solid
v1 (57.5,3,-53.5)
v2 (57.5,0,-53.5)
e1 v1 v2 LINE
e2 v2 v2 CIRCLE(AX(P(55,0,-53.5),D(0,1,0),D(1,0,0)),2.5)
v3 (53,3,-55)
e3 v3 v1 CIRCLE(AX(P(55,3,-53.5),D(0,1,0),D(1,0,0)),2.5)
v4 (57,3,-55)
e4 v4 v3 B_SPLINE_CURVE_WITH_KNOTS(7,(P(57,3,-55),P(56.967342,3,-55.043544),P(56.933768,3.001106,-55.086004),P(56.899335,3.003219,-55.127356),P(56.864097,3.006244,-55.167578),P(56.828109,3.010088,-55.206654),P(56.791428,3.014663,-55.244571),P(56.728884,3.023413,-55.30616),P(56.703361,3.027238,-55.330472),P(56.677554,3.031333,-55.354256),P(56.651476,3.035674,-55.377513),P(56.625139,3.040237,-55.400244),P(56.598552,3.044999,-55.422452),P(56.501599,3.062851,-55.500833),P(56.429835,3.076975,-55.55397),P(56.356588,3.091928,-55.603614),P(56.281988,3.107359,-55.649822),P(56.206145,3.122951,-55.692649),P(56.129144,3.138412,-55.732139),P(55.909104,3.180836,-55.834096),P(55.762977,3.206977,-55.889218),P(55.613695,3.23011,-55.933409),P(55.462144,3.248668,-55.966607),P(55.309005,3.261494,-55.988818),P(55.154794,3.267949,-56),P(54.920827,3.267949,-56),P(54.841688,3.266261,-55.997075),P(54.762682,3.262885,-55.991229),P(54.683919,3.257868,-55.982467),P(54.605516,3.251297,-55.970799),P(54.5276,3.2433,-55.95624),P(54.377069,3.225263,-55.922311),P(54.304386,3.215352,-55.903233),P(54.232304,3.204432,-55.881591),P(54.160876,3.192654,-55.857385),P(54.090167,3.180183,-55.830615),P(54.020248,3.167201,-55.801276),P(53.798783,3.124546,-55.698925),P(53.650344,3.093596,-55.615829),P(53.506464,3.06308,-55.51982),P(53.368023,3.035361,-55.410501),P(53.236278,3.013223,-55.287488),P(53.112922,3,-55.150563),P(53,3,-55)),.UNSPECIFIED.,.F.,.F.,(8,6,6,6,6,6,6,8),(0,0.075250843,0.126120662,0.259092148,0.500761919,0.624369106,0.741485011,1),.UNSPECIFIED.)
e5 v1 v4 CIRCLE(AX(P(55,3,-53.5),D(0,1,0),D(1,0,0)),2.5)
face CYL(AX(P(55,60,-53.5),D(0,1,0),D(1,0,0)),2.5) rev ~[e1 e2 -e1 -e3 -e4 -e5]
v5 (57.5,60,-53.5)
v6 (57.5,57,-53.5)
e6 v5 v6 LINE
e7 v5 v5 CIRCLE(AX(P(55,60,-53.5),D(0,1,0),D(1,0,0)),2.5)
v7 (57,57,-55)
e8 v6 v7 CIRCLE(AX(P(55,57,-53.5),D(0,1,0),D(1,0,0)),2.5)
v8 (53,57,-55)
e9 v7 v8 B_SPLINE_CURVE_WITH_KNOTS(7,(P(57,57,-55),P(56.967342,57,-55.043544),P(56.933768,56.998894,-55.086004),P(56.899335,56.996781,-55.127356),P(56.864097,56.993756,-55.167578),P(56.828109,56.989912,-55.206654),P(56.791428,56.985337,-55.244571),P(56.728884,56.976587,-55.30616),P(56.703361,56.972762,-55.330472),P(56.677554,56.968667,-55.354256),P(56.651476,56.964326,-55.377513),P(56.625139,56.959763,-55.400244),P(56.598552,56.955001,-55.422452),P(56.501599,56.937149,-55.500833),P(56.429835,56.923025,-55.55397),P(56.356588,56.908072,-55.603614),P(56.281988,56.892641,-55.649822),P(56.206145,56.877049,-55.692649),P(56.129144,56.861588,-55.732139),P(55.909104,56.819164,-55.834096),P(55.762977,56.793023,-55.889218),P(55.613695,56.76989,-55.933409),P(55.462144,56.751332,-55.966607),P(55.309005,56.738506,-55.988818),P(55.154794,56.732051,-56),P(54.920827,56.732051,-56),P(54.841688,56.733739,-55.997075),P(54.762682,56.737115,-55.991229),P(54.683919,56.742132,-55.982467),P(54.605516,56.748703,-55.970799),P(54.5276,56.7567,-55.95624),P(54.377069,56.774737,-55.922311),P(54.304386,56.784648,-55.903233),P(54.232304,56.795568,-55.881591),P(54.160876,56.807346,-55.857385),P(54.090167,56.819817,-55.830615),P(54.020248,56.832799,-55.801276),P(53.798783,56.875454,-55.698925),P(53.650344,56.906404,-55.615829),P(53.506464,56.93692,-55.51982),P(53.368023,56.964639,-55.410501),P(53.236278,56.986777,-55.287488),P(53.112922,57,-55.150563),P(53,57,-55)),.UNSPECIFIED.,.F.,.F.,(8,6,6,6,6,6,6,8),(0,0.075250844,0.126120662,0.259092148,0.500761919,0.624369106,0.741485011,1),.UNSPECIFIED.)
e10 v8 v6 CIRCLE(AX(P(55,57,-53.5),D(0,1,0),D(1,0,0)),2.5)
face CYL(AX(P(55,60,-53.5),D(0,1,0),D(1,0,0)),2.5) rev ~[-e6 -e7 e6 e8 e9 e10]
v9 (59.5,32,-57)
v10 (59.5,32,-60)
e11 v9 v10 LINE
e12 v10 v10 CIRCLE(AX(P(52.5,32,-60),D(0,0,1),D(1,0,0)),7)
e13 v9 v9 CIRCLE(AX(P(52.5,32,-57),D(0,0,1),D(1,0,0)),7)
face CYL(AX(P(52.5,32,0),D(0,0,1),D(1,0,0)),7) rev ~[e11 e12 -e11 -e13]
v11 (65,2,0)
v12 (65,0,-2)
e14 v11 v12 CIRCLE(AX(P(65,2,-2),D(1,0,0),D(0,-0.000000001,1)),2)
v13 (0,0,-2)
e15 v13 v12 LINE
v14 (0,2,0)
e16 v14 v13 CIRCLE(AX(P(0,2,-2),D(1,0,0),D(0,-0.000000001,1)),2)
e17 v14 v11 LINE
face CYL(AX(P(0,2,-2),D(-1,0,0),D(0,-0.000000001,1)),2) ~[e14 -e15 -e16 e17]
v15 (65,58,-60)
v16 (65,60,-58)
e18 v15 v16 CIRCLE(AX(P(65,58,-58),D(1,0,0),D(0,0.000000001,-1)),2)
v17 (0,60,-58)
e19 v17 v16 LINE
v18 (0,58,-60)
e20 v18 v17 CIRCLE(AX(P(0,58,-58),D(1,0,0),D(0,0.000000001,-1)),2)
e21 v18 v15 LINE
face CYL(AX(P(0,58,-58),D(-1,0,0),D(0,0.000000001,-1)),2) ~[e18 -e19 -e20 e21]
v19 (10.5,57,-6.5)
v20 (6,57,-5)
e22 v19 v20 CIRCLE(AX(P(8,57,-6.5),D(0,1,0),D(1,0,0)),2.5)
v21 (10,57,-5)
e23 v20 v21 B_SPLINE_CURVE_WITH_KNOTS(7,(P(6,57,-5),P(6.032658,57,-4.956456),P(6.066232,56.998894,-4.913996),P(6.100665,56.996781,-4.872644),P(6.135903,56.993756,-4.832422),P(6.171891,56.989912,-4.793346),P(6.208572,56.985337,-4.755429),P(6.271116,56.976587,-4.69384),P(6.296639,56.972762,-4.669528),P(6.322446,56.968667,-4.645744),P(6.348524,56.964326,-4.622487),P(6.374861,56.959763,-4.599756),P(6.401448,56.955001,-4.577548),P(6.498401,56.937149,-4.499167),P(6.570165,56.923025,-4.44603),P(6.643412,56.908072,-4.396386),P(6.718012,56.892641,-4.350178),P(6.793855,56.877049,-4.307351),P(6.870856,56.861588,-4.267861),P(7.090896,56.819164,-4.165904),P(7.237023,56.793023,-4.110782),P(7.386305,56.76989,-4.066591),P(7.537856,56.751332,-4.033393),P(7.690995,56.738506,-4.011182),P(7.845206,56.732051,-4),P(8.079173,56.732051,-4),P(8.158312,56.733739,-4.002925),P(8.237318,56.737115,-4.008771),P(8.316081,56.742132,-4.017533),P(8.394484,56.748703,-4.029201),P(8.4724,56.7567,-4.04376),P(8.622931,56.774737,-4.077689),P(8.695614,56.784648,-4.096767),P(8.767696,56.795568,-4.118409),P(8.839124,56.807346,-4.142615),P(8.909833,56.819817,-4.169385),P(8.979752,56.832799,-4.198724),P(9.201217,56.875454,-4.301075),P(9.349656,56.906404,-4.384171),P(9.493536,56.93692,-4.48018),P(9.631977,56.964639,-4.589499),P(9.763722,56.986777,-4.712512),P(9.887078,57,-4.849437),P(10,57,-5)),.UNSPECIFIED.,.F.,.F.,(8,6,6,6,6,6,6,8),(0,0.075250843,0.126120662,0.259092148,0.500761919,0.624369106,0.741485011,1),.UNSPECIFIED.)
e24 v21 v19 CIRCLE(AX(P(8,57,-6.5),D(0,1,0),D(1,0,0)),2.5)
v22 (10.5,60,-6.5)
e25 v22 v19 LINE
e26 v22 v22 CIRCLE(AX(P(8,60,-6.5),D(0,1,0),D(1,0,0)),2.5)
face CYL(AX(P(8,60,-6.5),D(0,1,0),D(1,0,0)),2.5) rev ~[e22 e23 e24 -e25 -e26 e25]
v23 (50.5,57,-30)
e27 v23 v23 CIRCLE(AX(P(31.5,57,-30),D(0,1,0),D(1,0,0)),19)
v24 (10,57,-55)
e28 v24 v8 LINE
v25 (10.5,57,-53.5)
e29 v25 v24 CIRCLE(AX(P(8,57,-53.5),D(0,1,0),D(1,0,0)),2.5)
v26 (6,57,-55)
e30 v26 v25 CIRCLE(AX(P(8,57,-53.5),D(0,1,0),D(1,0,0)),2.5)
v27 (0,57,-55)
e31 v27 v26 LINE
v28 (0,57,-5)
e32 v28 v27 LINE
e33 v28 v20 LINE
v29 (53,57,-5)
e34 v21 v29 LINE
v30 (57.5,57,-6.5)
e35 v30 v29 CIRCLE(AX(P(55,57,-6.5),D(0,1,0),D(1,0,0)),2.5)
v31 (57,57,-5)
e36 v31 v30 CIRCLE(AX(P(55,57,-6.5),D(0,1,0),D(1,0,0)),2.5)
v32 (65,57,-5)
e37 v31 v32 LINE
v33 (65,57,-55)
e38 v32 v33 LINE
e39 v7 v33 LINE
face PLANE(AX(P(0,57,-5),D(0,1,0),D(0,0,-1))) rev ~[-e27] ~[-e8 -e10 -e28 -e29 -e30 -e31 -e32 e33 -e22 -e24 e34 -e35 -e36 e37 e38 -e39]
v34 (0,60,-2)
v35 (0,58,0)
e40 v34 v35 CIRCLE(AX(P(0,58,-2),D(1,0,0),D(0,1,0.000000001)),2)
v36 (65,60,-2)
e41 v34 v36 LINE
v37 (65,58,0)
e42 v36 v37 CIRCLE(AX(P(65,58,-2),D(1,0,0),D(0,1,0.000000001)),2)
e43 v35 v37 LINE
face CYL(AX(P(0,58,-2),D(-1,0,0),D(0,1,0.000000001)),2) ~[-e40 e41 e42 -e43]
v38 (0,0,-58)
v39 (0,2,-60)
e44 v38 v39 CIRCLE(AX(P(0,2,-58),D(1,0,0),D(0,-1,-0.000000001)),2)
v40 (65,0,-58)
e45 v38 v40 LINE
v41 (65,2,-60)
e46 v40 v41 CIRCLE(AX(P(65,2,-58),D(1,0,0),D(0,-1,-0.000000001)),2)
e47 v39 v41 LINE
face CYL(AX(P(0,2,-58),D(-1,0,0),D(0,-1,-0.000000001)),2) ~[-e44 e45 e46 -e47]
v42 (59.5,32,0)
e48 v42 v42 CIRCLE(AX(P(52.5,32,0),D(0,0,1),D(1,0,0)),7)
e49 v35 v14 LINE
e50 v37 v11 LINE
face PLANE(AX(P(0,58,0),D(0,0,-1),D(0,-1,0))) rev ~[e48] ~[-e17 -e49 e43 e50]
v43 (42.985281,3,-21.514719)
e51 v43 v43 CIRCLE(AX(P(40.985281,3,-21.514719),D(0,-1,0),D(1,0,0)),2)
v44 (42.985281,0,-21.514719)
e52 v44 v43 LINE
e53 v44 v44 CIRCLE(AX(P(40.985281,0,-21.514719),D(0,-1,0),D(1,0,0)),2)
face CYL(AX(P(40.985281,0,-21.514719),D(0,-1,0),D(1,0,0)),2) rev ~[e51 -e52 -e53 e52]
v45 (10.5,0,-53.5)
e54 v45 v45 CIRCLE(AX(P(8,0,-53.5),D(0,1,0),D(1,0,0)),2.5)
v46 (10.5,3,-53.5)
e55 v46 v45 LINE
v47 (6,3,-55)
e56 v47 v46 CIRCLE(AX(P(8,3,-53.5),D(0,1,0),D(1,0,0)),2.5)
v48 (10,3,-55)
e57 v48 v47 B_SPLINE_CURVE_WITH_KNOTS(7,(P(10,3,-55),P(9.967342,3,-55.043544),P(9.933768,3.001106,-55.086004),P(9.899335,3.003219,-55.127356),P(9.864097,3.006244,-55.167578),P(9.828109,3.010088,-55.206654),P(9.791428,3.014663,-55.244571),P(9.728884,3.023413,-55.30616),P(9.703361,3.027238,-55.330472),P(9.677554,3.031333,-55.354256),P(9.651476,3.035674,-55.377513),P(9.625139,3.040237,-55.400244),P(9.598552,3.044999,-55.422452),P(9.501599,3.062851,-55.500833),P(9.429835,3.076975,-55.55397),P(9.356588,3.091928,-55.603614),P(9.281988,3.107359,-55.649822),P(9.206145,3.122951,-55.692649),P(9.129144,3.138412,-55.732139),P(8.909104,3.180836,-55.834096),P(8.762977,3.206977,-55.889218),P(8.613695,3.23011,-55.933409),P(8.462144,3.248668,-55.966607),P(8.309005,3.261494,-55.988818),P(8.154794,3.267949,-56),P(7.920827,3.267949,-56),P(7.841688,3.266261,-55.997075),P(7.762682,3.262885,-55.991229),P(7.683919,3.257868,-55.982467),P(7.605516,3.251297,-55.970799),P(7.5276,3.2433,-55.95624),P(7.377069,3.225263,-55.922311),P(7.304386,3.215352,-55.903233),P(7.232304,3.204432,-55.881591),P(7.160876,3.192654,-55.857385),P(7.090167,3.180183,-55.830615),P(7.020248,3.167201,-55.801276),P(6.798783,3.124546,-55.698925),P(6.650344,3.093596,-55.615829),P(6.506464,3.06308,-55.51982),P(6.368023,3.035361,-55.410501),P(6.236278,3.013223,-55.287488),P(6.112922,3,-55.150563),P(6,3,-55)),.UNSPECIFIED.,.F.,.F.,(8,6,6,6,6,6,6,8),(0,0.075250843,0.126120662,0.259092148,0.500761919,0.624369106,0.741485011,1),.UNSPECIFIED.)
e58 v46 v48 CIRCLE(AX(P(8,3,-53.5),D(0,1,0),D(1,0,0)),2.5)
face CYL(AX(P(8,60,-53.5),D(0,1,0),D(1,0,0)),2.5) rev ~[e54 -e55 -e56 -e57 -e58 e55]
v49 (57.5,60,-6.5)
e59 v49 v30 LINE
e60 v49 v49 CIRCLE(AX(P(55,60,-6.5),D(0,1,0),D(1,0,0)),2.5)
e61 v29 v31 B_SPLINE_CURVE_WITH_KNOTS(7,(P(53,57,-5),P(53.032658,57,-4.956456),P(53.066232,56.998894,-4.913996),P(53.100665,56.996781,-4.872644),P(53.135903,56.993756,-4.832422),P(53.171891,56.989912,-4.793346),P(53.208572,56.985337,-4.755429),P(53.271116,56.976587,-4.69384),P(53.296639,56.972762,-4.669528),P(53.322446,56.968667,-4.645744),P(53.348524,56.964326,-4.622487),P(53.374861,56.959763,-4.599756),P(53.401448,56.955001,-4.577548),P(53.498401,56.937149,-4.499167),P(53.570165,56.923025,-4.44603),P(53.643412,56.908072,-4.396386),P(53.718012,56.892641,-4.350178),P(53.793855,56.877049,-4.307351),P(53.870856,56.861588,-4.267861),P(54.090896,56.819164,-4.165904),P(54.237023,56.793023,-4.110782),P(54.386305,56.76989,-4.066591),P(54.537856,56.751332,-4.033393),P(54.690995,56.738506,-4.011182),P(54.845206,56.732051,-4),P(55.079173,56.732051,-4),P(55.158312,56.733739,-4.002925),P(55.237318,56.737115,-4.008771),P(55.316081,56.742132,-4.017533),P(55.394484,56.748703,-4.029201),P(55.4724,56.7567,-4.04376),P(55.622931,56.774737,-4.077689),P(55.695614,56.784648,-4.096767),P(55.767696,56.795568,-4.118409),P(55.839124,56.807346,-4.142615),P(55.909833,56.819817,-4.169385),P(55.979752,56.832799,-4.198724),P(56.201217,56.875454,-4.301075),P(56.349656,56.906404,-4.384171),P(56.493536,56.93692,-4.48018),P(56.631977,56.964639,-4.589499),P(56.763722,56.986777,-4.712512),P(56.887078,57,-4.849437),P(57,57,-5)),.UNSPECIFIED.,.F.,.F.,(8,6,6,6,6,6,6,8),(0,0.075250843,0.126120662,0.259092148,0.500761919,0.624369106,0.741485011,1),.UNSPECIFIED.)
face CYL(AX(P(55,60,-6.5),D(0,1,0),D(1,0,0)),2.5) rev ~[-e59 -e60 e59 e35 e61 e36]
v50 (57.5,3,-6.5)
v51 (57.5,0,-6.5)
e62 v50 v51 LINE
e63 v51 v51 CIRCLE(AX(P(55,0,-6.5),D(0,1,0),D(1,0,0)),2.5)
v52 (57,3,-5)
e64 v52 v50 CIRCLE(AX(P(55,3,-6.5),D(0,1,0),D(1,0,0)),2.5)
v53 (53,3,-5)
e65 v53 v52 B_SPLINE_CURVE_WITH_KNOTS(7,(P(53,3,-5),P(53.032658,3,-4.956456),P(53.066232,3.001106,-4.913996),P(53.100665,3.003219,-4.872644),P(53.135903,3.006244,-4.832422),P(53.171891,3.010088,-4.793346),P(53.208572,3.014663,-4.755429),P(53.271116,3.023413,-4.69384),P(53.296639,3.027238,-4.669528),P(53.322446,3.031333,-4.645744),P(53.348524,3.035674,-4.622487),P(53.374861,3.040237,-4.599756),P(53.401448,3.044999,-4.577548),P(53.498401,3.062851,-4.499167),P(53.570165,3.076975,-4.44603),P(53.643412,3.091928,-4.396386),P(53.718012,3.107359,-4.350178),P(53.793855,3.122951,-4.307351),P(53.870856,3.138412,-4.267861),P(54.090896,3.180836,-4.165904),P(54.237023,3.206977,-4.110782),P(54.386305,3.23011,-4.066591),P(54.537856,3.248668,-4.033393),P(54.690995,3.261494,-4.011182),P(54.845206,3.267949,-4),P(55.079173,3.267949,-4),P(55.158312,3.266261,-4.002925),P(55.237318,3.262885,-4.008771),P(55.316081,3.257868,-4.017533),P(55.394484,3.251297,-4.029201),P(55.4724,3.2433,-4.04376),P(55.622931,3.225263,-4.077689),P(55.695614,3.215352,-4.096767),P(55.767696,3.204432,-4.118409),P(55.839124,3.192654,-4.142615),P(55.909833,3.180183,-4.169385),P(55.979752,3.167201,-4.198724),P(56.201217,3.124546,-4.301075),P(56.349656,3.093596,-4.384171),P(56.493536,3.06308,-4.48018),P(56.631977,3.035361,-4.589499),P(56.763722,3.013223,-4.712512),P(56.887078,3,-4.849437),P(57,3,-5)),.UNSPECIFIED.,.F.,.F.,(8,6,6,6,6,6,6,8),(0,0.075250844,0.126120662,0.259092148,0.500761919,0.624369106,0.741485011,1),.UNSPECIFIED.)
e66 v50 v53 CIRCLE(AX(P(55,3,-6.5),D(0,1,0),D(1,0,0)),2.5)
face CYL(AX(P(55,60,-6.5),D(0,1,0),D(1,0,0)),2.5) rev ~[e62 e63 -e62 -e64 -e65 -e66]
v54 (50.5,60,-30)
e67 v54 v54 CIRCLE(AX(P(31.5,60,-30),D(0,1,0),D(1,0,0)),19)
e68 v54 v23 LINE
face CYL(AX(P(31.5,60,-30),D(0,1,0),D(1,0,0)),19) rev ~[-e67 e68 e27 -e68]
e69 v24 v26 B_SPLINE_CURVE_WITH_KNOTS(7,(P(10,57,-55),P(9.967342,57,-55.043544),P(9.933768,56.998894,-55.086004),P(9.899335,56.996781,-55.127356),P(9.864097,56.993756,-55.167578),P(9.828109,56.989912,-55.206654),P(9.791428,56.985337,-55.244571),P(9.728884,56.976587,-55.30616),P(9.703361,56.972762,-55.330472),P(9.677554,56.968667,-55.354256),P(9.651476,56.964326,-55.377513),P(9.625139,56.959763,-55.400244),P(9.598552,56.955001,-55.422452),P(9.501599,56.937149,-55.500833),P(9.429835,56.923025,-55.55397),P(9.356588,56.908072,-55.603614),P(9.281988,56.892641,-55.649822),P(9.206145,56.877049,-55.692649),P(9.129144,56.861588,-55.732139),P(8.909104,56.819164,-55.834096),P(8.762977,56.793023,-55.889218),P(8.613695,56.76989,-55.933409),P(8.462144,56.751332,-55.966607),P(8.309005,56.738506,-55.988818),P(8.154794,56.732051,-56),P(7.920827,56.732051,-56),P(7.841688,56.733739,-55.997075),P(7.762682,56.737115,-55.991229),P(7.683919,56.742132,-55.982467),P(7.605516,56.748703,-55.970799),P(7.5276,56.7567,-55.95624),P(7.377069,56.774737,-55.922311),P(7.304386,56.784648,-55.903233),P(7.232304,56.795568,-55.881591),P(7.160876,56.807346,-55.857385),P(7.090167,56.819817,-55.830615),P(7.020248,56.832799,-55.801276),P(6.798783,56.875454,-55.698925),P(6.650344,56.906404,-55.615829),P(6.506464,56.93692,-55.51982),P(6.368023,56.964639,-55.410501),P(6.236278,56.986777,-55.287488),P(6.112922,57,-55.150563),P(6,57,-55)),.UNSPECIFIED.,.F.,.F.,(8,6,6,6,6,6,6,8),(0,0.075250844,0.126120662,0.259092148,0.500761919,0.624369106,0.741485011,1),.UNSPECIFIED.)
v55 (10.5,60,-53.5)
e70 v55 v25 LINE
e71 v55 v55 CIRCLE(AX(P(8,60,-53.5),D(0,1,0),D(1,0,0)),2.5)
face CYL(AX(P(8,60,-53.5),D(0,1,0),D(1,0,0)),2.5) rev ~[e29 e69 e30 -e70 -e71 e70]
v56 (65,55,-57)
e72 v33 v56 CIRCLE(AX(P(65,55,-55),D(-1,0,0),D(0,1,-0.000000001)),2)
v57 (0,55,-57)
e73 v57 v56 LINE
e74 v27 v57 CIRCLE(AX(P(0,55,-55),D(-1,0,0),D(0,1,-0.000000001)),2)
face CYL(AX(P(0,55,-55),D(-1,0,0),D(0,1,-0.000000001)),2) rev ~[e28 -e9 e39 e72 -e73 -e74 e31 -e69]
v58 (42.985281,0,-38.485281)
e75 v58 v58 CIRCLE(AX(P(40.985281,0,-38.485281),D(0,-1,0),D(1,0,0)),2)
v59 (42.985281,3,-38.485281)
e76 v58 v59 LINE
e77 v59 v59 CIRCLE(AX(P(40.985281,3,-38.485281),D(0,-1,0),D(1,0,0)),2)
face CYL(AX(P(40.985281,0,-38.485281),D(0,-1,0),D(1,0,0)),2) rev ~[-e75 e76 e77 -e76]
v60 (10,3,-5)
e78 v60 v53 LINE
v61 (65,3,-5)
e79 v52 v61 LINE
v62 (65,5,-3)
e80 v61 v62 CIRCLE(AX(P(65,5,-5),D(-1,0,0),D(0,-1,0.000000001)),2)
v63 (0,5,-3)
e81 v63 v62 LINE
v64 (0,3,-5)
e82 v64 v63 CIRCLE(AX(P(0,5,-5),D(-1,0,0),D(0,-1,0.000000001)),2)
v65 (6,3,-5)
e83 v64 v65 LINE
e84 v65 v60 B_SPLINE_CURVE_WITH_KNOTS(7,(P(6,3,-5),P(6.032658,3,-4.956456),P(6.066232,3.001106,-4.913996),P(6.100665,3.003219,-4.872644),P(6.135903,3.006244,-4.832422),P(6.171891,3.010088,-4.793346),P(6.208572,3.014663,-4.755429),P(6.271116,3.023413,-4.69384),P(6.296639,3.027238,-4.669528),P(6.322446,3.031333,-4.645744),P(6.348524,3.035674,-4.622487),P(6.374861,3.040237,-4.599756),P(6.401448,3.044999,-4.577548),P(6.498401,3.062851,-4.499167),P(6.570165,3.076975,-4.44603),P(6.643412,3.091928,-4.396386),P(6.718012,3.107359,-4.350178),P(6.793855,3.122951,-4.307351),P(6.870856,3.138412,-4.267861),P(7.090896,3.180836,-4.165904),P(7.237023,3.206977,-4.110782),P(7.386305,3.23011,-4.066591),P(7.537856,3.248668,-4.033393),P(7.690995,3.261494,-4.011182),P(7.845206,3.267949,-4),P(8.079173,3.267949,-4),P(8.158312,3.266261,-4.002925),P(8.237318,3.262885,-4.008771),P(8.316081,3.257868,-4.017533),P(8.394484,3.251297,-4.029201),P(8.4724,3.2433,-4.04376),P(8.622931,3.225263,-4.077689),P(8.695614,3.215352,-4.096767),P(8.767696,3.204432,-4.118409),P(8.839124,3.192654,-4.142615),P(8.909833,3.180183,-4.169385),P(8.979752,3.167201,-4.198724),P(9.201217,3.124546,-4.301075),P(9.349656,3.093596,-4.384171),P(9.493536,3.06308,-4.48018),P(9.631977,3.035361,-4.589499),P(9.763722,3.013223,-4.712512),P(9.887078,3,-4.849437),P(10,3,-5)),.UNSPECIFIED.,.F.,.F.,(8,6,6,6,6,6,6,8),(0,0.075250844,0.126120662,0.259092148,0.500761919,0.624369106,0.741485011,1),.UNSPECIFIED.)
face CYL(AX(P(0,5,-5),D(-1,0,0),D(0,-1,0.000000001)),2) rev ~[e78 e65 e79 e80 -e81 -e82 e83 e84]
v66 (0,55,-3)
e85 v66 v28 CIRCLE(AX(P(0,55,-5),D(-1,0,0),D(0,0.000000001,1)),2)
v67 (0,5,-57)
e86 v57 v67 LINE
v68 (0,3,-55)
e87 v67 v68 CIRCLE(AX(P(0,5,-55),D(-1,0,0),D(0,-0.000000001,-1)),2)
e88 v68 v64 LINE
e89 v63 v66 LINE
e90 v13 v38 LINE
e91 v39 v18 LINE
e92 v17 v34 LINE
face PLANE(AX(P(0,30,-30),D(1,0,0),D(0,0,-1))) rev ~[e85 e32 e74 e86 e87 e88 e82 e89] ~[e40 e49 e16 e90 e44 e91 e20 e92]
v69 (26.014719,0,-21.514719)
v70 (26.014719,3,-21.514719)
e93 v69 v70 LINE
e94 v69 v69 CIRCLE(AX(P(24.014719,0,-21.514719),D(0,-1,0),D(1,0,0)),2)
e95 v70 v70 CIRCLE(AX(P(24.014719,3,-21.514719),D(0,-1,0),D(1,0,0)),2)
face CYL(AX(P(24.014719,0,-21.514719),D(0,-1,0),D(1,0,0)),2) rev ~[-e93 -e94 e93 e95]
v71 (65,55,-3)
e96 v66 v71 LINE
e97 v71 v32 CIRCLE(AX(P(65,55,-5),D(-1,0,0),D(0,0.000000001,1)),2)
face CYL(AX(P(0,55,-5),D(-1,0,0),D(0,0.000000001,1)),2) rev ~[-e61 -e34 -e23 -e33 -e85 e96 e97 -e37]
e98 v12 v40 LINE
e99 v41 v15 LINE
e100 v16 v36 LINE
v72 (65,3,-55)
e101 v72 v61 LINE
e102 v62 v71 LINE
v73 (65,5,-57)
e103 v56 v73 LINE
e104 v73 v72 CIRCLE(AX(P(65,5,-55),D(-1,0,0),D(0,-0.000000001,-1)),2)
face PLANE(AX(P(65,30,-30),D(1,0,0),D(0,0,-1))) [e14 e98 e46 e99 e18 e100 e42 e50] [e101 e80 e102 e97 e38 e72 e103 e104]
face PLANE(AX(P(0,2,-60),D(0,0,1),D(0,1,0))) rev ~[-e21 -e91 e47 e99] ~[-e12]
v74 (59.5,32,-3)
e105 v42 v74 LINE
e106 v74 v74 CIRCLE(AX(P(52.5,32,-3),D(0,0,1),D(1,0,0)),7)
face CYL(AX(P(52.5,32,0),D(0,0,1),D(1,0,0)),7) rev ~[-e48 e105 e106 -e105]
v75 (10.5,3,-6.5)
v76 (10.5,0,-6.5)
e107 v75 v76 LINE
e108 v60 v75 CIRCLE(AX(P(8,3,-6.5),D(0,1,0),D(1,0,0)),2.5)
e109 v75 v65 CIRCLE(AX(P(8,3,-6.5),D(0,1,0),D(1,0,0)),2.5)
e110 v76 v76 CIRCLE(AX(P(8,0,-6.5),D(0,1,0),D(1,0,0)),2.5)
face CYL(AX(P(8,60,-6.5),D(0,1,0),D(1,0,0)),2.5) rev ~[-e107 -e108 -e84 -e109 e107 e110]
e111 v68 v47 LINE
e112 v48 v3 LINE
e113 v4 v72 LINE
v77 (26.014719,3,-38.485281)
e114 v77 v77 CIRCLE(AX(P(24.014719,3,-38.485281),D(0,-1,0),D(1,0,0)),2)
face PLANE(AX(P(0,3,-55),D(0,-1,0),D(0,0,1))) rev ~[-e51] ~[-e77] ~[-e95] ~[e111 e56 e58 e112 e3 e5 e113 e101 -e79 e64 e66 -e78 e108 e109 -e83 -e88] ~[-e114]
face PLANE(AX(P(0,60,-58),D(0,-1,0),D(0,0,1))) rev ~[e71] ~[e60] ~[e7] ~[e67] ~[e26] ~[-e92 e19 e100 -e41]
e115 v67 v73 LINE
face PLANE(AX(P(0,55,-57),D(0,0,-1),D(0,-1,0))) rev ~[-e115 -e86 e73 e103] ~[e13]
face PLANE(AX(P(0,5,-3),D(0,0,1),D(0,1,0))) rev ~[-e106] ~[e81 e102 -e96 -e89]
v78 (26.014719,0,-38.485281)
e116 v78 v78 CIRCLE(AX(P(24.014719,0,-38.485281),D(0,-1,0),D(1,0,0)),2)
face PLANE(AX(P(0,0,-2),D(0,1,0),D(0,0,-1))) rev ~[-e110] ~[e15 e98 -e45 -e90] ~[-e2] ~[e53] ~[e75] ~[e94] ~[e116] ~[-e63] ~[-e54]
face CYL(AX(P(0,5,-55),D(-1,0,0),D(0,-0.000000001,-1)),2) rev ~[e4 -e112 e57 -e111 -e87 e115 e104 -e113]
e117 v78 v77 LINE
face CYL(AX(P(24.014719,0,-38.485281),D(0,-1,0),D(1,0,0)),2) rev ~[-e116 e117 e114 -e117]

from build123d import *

# Parameters (mm, degrees)
EXTRUDE_1_DEPTH     = 65
SKETCH_2_R          = 2.5
CUT_EXTRUDE_1_DEPTH = 61
SKETCH_3_R          = 7
CUT_EXTRUDE_2_DEPTH = 61
CUT_EXTRUDE_4_REACH = 62
SKETCH_7_R          = 2
CUT_EXTRUDE_5_REACH = 62
SKETCH_8_R          = 19


with BuildPart() as part:
    # 草图1 → 凸台-拉伸1 (new body)
    with BuildSketch(Plane(origin=(0, 0, 0), x_dir=(0, 0, -1), z_dir=(1, 0, 0))):
        with BuildLine():
            Line((60, 2), (60, 58))
            ThreePointArc((60, 58), (59.414213562, 59.414213562), (58, 60))
            Line((58, 60), (2, 60))
            ThreePointArc((2, 60), (0.585786438, 59.414213562), (0, 58))
            Line((0, 58), (0, 2))
            ThreePointArc((0, 2), (0.585786438, 0.585786438), (2, 0))
            Line((2, 0), (58, 0))
            ThreePointArc((58, 0), (59.414213562, 0.585786438), (60, 2))
        make_face()
        with BuildLine():
            Line((3, 5), (3, 55))
            ThreePointArc((3, 55), (3.585786438, 56.414213562), (5, 57))
            Line((5, 57), (55, 57))
            ThreePointArc((55, 57), (56.414213562, 56.414213562), (57, 55))
            Line((57, 55), (57, 5))
            ThreePointArc((57, 5), (56.414213562, 3.585786438), (55, 3))
            Line((55, 3), (5, 3))
            ThreePointArc((5, 3), (3.585786438, 3.585786438), (3, 5))
        make_face(mode=Mode.SUBTRACT)
    extrude(amount=EXTRUDE_1_DEPTH)

    # 草图2 → 切除-拉伸1 (cut, through all)
    with BuildSketch(Plane(origin=(0, 60, 0), x_dir=(1, 0, 0), z_dir=(0, 1, 0))):
        with Locations((8, 6.5)):
            Circle(SKETCH_2_R)
        with Locations((55, 6.5)):
            Circle(SKETCH_2_R)
        with Locations((55, 53.5)):
            Circle(SKETCH_2_R)
        with Locations((8, 53.5)):
            Circle(SKETCH_2_R)
    extrude(amount=-CUT_EXTRUDE_1_DEPTH, mode=Mode.SUBTRACT)

    # 草图3 → 切除-拉伸2 (cut, through all)
    with BuildSketch(Plane.XY):
        with Locations((52.5, 32)):
            Circle(SKETCH_3_R)
    extrude(amount=-CUT_EXTRUDE_2_DEPTH, mode=Mode.SUBTRACT)

    # 草图7 → 切除-拉伸4 (cut, up to next)
    with BuildSketch(Plane.XZ, mode=Mode.PRIVATE) as cut_extrude_4_sk1:
        with Locations((40.985281374, -38.485281374)):
            Circle(SKETCH_7_R)
    cut_extrude_4_tool1 = extrude(cut_extrude_4_sk1.sketch, amount=-CUT_EXTRUDE_4_REACH, mode=Mode.PRIVATE) & part.part
    add(cut_extrude_4_tool1.solids().sort_by_distance((40.985281, 0, -38.485281))[0], mode=Mode.SUBTRACT)
    # 草图7 → 切除-拉伸4 (cut, up to next)
    with BuildSketch(Plane.XZ, mode=Mode.PRIVATE) as cut_extrude_4_sk2:
        with Locations((24.014718626, -38.485281374)):
            Circle(SKETCH_7_R)
    cut_extrude_4_tool2 = extrude(cut_extrude_4_sk2.sketch, amount=-CUT_EXTRUDE_4_REACH, mode=Mode.PRIVATE) & part.part
    add(cut_extrude_4_tool2.solids().sort_by_distance((24.014719, 0, -38.485281))[0], mode=Mode.SUBTRACT)
    # 草图7 → 切除-拉伸4 (cut, up to next)
    with BuildSketch(Plane.XZ, mode=Mode.PRIVATE) as cut_extrude_4_sk3:
        with Locations((24.014718626, -21.514718626)):
            Circle(SKETCH_7_R)
    cut_extrude_4_tool3 = extrude(cut_extrude_4_sk3.sketch, amount=-CUT_EXTRUDE_4_REACH, mode=Mode.PRIVATE) & part.part
    add(cut_extrude_4_tool3.solids().sort_by_distance((24.014719, 0, -21.514719))[0], mode=Mode.SUBTRACT)
    # 草图7 → 切除-拉伸4 (cut, up to next)
    with BuildSketch(Plane.XZ, mode=Mode.PRIVATE) as cut_extrude_4_sk4:
        with Locations((40.985281374, -21.514718626)):
            Circle(SKETCH_7_R)
    cut_extrude_4_tool4 = extrude(cut_extrude_4_sk4.sketch, amount=-CUT_EXTRUDE_4_REACH, mode=Mode.PRIVATE) & part.part
    add(cut_extrude_4_tool4.solids().sort_by_distance((40.985281, 0, -21.514719))[0], mode=Mode.SUBTRACT)

    # 草图8 → 切除-拉伸5 (cut, up to next)
    with BuildSketch(Plane(origin=(0, 60, 0), x_dir=(1, 0, 0), z_dir=(0, 1, 0)), mode=Mode.PRIVATE) as cut_extrude_5_sk1:
        with Locations((31.5, 30)):
            Circle(SKETCH_8_R)
    cut_extrude_5_tool1 = extrude(cut_extrude_5_sk1.sketch, amount=-CUT_EXTRUDE_5_REACH, mode=Mode.PRIVATE) & part.part
    add(cut_extrude_5_tool1.solids().sort_by_distance((31.5, 60, -30))[0], mode=Mode.SUBTRACT)


solid = part.part
